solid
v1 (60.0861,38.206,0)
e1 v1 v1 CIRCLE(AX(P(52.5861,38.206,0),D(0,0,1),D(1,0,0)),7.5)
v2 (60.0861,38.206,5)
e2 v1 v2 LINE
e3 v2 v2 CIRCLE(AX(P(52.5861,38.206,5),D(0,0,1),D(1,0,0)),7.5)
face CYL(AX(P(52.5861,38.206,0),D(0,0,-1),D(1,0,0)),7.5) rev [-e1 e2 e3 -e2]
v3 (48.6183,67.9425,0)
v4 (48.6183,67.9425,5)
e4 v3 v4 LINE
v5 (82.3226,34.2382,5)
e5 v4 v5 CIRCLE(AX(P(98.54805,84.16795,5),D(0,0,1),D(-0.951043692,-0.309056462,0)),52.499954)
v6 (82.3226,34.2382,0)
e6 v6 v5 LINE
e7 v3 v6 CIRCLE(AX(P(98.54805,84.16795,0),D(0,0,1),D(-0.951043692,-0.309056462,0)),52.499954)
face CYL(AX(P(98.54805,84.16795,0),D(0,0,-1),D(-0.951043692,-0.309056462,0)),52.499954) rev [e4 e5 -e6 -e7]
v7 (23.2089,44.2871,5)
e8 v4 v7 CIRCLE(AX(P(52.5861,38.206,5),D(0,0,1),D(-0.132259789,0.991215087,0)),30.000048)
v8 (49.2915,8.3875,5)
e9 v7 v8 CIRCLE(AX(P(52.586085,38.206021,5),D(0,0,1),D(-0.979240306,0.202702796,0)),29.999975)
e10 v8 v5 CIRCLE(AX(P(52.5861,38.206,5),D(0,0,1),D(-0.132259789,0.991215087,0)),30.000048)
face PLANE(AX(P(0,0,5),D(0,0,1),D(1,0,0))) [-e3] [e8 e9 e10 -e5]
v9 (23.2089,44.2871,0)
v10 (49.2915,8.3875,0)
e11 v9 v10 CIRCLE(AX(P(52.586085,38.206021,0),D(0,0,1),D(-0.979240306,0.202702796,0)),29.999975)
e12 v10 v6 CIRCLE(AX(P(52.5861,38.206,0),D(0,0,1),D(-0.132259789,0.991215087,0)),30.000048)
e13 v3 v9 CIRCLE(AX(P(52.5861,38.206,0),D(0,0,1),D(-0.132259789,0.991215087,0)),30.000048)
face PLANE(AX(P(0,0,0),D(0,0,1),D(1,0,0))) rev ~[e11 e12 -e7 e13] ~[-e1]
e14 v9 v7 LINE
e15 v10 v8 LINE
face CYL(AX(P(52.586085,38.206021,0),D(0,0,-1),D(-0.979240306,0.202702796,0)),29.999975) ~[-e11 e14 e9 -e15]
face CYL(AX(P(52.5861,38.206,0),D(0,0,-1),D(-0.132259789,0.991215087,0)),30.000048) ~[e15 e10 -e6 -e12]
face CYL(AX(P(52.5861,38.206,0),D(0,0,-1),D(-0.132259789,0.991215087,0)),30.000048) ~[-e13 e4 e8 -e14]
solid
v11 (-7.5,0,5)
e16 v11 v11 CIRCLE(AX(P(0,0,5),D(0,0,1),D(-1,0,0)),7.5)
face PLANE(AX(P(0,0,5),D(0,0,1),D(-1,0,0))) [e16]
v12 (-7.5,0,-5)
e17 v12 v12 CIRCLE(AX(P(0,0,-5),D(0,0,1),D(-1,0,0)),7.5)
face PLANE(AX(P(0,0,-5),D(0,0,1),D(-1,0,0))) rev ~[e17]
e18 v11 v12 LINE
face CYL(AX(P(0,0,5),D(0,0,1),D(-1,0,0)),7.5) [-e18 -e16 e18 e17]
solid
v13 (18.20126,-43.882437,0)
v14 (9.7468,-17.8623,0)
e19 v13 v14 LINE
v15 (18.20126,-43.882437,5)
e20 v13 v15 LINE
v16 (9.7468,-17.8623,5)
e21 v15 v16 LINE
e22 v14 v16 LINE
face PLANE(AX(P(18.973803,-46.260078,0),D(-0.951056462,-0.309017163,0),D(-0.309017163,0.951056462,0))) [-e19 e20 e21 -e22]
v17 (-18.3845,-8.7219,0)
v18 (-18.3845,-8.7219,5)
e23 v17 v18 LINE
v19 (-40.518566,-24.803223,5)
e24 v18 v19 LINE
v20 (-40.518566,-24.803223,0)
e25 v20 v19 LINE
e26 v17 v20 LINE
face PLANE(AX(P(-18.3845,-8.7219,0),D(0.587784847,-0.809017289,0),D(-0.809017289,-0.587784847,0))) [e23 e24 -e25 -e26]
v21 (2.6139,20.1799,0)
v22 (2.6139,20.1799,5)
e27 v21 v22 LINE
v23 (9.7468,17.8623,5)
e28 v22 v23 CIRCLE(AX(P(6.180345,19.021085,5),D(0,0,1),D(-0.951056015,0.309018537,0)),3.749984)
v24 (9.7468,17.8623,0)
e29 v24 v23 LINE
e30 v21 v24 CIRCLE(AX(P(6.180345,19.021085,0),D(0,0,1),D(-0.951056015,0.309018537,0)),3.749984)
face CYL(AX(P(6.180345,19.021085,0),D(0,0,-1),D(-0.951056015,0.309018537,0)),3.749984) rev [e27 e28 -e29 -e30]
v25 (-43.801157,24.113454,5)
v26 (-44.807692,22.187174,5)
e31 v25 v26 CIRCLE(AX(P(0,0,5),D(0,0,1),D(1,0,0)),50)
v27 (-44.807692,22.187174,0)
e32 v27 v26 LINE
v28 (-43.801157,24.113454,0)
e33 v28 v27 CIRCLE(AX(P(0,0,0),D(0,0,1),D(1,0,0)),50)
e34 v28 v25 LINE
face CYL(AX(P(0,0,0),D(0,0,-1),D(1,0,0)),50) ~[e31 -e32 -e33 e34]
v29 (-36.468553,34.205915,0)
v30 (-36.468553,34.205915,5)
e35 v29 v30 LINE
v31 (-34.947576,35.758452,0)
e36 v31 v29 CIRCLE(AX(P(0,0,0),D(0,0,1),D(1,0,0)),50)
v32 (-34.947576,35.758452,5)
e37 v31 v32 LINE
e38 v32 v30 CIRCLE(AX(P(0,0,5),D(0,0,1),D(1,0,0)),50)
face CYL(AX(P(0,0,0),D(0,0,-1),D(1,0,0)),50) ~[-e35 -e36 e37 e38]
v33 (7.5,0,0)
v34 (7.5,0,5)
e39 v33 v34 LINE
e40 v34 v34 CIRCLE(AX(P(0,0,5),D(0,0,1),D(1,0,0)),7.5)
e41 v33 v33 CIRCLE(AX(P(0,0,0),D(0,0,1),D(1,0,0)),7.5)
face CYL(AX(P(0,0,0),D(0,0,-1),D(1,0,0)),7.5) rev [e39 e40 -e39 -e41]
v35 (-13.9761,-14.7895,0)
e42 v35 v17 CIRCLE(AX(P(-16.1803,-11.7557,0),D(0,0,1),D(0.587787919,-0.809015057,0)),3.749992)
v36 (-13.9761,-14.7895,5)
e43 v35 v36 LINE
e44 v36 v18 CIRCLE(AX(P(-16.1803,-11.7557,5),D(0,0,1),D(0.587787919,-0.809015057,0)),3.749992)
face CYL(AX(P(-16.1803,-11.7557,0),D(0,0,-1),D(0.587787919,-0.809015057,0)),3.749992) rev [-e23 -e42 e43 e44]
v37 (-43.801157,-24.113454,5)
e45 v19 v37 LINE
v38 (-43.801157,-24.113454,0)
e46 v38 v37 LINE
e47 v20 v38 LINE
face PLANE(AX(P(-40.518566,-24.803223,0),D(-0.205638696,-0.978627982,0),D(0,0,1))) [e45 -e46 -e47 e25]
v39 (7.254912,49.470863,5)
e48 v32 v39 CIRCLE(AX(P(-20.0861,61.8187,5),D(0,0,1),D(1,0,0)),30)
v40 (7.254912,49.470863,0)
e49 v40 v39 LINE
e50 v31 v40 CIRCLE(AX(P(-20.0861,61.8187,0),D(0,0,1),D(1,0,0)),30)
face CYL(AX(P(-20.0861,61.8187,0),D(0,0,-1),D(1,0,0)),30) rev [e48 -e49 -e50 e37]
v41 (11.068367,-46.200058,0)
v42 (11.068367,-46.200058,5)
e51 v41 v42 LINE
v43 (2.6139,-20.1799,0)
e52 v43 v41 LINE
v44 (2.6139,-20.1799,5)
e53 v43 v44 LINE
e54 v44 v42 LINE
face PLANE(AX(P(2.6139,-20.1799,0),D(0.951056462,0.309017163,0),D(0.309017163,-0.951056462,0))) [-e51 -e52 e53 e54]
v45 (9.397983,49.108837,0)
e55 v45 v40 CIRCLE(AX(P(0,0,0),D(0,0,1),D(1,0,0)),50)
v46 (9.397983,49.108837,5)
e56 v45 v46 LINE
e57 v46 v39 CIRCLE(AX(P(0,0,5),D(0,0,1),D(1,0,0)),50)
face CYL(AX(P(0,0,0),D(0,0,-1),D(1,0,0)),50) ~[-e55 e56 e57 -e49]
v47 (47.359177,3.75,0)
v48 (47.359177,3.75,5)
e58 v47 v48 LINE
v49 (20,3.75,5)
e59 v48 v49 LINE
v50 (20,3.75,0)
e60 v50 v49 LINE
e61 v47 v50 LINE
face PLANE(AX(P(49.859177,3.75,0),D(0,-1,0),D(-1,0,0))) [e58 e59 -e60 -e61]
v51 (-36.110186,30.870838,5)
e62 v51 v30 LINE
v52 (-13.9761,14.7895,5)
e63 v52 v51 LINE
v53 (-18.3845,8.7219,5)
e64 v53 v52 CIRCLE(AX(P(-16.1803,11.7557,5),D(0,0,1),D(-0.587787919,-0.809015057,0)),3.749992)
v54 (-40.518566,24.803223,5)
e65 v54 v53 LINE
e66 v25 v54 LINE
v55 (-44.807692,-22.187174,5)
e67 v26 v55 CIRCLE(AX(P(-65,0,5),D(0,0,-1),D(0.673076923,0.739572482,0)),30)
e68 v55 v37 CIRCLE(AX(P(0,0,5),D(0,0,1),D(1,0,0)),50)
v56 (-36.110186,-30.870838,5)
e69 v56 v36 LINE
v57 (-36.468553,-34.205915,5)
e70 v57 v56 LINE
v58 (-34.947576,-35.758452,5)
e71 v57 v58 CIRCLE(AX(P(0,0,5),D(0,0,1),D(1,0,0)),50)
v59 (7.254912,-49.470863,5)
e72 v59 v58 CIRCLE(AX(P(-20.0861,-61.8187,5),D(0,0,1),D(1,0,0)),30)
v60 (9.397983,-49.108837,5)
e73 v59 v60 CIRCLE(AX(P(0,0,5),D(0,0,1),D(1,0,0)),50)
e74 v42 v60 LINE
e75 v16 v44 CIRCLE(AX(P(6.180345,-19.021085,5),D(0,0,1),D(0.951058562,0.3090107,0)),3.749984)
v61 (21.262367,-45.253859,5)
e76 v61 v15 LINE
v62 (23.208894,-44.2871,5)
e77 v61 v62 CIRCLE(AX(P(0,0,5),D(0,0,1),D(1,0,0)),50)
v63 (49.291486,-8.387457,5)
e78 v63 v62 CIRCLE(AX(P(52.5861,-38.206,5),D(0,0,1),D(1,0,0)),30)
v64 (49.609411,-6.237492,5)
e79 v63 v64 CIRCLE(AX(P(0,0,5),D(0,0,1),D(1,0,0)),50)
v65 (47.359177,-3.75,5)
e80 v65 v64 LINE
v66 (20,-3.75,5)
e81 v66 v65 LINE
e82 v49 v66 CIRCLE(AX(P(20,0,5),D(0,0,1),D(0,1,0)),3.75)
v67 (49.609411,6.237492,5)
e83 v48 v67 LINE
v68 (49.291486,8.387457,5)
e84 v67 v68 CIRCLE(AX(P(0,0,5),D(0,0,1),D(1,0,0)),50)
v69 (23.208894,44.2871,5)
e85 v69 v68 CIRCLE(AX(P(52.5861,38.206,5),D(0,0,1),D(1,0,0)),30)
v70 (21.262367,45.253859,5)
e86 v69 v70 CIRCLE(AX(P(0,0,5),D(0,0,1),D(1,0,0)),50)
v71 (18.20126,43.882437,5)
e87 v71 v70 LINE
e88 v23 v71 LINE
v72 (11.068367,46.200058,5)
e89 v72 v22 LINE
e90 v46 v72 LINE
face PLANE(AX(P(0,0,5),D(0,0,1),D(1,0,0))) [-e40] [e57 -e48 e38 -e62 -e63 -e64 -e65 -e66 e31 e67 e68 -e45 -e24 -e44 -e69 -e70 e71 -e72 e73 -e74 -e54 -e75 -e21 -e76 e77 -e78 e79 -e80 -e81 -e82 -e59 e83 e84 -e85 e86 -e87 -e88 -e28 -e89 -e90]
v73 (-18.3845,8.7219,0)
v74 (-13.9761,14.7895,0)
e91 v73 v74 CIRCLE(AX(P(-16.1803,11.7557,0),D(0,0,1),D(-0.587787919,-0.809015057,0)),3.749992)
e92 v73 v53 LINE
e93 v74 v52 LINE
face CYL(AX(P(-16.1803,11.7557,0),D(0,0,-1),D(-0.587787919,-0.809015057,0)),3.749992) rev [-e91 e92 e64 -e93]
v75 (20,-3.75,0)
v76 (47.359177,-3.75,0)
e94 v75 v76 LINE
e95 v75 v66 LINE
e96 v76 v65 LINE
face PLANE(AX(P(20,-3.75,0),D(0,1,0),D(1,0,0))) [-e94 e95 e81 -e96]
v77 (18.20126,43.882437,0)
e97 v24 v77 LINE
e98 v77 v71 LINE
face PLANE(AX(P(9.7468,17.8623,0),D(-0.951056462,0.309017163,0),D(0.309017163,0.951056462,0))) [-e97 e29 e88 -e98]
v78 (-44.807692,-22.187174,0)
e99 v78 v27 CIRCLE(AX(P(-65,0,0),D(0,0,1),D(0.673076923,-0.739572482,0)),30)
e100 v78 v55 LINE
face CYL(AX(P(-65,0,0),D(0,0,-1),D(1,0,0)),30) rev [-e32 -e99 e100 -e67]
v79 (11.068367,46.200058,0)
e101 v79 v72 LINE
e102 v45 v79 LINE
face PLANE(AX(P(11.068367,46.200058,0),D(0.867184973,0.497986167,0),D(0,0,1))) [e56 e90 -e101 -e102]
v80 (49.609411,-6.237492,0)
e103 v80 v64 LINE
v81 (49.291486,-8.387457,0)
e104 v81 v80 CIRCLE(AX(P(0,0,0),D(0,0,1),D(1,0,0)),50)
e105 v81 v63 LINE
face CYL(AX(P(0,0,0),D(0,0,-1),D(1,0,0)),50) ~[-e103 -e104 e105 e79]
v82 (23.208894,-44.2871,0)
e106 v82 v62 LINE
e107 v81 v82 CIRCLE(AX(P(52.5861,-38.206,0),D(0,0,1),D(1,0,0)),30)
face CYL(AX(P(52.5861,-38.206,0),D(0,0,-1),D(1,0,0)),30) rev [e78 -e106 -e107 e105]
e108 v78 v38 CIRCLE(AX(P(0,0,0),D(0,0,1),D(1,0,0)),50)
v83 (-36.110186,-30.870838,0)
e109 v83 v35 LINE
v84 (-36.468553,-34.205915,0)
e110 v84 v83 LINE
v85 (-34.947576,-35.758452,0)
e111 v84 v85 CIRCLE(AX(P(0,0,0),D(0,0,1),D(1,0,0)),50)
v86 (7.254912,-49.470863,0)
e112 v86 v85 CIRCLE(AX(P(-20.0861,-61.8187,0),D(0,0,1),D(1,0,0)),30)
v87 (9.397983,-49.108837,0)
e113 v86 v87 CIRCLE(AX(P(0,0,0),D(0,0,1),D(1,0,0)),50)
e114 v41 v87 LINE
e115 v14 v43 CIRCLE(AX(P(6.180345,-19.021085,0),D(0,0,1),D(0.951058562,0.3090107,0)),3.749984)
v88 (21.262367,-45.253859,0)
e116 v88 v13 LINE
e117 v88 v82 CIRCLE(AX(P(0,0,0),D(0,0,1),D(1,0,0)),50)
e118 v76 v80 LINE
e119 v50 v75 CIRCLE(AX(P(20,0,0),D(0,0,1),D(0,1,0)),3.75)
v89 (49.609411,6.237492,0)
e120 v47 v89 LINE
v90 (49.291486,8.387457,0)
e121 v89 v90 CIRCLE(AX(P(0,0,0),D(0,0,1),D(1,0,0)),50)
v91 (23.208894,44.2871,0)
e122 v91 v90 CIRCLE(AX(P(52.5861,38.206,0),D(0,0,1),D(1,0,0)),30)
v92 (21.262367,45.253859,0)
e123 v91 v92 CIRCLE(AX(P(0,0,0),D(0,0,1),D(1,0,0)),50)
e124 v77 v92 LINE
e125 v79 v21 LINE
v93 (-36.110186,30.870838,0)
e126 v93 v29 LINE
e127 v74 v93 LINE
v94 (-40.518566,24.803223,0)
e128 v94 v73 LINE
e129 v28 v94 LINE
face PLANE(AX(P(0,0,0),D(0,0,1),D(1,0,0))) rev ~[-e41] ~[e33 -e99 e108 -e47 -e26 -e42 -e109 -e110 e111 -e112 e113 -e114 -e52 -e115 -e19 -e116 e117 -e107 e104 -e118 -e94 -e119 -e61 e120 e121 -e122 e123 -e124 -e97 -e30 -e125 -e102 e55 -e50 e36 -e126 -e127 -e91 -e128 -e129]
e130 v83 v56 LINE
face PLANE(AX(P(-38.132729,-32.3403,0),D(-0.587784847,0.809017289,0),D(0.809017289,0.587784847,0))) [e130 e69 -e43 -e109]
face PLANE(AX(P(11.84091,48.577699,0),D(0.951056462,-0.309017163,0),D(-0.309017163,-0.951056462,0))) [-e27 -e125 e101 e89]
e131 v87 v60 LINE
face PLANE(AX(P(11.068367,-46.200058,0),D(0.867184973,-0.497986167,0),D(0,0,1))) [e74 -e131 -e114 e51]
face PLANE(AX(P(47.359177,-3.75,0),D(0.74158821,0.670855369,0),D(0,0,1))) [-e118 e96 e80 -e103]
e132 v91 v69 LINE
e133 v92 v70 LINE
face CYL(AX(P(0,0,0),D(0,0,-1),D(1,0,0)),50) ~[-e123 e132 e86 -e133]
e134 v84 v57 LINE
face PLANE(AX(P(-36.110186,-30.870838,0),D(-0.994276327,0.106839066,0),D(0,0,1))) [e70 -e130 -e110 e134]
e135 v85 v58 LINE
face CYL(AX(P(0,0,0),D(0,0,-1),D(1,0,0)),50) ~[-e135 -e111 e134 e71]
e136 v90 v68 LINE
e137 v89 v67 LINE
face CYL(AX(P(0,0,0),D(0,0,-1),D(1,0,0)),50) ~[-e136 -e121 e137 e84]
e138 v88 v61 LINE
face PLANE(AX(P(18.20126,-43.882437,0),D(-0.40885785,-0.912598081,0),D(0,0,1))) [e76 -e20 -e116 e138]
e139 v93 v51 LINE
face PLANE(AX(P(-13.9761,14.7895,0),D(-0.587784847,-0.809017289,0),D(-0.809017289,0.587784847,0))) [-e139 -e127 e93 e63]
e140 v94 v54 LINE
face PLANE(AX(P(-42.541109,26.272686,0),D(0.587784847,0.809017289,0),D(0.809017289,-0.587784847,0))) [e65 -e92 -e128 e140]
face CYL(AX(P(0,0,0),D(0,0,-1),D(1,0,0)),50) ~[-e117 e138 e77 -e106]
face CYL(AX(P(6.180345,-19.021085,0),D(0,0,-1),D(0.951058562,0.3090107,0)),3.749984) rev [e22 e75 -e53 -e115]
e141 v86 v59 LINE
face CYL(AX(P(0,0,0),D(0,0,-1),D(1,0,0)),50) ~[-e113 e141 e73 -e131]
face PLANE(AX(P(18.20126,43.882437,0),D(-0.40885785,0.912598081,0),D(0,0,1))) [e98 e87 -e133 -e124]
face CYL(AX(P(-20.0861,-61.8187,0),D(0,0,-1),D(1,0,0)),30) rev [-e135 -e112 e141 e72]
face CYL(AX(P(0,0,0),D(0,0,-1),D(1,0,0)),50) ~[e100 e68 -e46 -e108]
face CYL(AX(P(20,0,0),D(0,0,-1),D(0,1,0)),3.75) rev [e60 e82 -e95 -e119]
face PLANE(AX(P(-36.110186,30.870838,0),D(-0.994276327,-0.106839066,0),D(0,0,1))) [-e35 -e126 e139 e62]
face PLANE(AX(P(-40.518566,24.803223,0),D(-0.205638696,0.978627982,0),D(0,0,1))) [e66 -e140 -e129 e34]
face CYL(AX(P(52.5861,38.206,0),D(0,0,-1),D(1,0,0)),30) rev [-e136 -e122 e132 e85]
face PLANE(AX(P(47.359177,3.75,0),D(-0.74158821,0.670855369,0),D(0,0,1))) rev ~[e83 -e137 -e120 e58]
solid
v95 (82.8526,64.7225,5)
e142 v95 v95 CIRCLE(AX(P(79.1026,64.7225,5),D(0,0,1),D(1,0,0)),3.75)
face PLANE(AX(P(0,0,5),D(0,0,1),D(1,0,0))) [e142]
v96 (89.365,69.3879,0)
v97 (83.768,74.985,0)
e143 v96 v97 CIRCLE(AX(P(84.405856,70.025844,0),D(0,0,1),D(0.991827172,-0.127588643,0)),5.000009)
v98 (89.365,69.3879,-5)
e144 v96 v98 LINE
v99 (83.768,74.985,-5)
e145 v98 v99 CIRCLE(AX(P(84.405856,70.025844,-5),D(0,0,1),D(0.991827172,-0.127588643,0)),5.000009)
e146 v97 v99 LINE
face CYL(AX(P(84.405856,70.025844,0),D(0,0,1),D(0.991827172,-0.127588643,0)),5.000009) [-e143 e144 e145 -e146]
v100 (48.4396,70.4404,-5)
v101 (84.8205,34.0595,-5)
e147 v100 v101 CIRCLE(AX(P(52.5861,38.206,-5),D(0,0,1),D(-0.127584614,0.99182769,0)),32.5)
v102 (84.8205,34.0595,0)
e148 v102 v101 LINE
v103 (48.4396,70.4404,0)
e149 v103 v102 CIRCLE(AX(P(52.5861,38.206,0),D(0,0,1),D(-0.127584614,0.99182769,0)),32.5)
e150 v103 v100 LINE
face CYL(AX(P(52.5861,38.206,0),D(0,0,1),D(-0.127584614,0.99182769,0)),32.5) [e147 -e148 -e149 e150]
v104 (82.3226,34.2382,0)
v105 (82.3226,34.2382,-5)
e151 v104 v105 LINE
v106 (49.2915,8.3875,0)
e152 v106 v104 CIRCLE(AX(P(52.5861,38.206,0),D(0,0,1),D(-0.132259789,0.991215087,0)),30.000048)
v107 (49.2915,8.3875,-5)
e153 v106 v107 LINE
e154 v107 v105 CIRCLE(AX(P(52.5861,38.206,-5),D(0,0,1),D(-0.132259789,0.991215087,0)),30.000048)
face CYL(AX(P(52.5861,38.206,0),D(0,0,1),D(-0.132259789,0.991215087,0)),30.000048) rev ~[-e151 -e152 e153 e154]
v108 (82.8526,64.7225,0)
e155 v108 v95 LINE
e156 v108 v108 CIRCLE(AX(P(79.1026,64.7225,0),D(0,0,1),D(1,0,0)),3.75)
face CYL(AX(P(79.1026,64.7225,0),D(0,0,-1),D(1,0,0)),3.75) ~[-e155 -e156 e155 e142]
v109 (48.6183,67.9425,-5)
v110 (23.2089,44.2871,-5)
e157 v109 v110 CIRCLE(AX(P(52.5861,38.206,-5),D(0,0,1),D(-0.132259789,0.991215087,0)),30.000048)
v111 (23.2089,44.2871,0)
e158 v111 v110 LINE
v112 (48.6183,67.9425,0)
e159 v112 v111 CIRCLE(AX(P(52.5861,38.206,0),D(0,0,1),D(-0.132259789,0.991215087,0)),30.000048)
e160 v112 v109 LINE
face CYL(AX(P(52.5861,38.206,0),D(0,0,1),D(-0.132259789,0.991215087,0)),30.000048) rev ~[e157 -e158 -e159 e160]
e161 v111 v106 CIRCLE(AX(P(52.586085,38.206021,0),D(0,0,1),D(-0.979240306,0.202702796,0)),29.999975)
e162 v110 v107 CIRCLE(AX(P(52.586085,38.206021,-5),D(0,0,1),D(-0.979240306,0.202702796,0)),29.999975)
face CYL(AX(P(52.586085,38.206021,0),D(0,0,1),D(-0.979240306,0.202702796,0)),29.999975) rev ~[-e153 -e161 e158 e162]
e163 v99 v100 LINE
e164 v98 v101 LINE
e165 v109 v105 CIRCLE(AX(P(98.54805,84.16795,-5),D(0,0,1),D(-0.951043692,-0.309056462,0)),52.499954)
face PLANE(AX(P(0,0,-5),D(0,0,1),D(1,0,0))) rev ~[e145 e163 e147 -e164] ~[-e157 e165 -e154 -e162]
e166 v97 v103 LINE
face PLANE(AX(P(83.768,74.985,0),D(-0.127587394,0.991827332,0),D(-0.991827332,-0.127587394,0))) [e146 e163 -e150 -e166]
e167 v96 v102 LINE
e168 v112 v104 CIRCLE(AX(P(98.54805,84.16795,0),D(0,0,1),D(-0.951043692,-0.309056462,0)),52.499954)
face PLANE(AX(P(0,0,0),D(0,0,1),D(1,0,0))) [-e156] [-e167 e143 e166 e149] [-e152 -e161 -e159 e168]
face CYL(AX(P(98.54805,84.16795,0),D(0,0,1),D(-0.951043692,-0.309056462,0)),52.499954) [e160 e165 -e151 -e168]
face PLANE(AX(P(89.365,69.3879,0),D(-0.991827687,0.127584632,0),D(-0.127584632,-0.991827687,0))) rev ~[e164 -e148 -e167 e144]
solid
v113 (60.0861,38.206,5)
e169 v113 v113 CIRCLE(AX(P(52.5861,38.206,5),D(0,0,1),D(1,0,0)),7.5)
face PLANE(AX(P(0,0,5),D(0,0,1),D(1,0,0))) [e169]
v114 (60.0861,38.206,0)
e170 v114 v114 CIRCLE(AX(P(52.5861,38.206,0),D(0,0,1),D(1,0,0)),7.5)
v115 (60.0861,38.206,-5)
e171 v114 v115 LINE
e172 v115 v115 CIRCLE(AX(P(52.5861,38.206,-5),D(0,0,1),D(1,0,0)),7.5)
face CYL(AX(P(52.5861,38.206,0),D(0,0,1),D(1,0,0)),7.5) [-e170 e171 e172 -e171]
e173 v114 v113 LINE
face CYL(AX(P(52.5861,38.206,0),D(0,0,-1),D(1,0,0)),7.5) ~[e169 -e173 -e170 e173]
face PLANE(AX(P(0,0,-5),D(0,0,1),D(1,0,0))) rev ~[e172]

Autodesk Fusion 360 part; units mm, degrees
sketch "Sketch1" plane through (0, 0, 0) normal (0, 0, 1) x (1, 0, 0) in component "Follower"
  circle A0 centre (0, 0) radius 7.5
  circle A1 centre (0, 0) radius 50
  line L0 (20, -3.75) -> (60, -3.75)
  arc A2 (60, -3.75) -> (60, 3.75) centre (60, 0) ccw
  line L1 (60, 3.75) -> (20, 3.75)
  arc A3 (20, 3.75) -> (20, -3.75) centre (20, 0) ccw
  line L2 (20, 0) -> (60, 0) construction
  line L3 (14.9746, 58.2222) -> (2.6139, 20.1799)
  arc A4 (2.6139, 20.1799) -> (9.7468, 17.8623) centre (6.1803, 19.0211) ccw
  line L4 (9.7468, 17.8623) -> (22.1075, 55.9046)
  arc A5 (22.1075, 55.9046) -> (14.9746, 58.2222) centre (18.541, 57.0634) ccw
  line L5 (-50.7452, 32.2333) -> (-18.3845, 8.7219)
  arc A6 (-18.3845, 8.7219) -> (-13.9761, 14.7895) centre (-16.1803, 11.7557) ccw
  line L6 (-13.9761, 14.7895) -> (-46.3368, 38.3009)
  arc A7 (-46.3368, 38.3009) -> (-50.7452, 32.2333) centre (-48.541, 35.2671) ccw
  line L7 (-46.3368, -38.3009) -> (-13.9761, -14.7895)
  arc A8 (-13.9761, -14.7895) -> (-18.3845, -8.7219) centre (-16.1803, -11.7557) ccw
  line L8 (-18.3845, -8.7219) -> (-50.7452, -32.2333)
  arc A9 (-50.7452, -32.2333) -> (-46.3368, -38.3009) centre (-48.541, -35.2671) ccw
  line L9 (22.1075, -55.9046) -> (9.7468, -17.8623)
  arc A10 (9.7468, -17.8623) -> (2.6139, -20.1799) centre (6.1803, -19.0211) ccw
  line L10 (2.6139, -20.1799) -> (14.9746, -58.2222)
  arc A11 (14.9746, -58.2222) -> (22.1075, -55.9046) centre (18.541, -57.0634) ccw
  circle A12 centre (52.5861, 38.206) radius 30
  line L11 (52.5861, 38.206) -> (20, 0) construction
  line L12 (52.5861, 38.206) -> (6.1803, 19.0211) construction
  circle A13 centre (-20.0861, 61.8187) radius 30
  circle A14 centre (-65, 0) radius 30
  circle A15 centre (-20.0861, -61.8187) radius 30
  circle A16 centre (52.5861, -38.206) radius 30
  dimension "d12" = 15
  dimension "d13" = 100
  dimension "d14" = 7.5
  dimension "d15" = 20
  dimension "d17" = 360
  dimension "d18" = 60
  dimension "d19" = 65
  dimension "d21" = 360
extrude "Extrude1" add sketch "Sketch1" along normal blind 5 contours A1 L0 L1 A3 L3 A4 L4 L5 A6 L6 L7 A8 L8 L9 A10 L10 A12 A13 A14 A15 A16 makes body 1 in component "Follower"
chamfer "Chamfer1" distance 2.5 angle 45 10 edges at (11.8409, -48.5777, 2.5) (18.9738, -46.2601, 2.5) (-38.1327, -32.3403, 2.5) (-42.5411, -26.2727, 2.5) (-42.5411, 26.2727, 2.5) (-38.1327, 32.3403, 2.5) (11.8409, 48.5777, 2.5) (18.9738, 46.2601, 2.5) (49.8592, -3.75, 2.5) (49.8592, 3.75, 2.5) on bodies 1 in component "Follower"
sketch "Sketch1 (2)" plane through (0, 0, 5) normal (0, 0, 1) x (-1, 0, 0) in component "FollowJoint"
  line L0 (-47.3592, -3.75) -> (-49.6094, -6.2375)
  arc A0 (-49.6094, -6.2375) -> (-49.2915, -8.3875) centre (0, 0) ccw
  arc A1 (-23.2089, -44.2871) -> (-49.2915, -8.3875) centre (-52.5861, -38.206) ccw
  arc A2 (-23.2089, -44.2871) -> (-21.2624, -45.2539) centre (0, 0) ccw
  line L1 (-21.2624, -45.2539) -> (-18.2013, -43.8824)
  line L2 (-18.2013, -43.8824) -> (-9.7468, -17.8623)
  arc A3 (-2.6139, -20.1799) -> (-9.7468, -17.8623) centre (-6.1803, -19.0211) ccw
  line L3 (-2.6139, -20.1799) -> (-11.0683, -46.2001)
  line L4 (-11.0683, -46.2001) -> (-9.3979, -49.1088)
  arc A4 (-9.3979, -49.1088) -> (-7.2549, -49.4709) centre (0, 0) ccw
  arc A5 (34.9476, -35.7584) -> (-7.2549, -49.4709) centre (20.0861, -61.8187) ccw
  arc A6 (34.9476, -35.7584) -> (36.4686, -34.2059) centre (0, 0) ccw
  line L5 (36.4686, -34.2059) -> (36.1102, -30.8708)
  line L6 (36.1102, -30.8708) -> (13.9761, -14.7895)
  arc A7 (18.3845, -8.7219) -> (13.9761, -14.7895) centre (16.1803, -11.7557) ccw
  line L7 (18.3845, -8.7219) -> (40.5186, -24.8032)
  line L8 (40.5186, -24.8032) -> (43.8012, -24.1134)
  arc A8 (43.8012, -24.1134) -> (44.8077, -22.1872) centre (0, 0) ccw
  arc A9 (44.8077, 22.1872) -> (44.8077, -22.1872) centre (65, 0) ccw
  arc A10 (44.8077, 22.1872) -> (43.8012, 24.1134) centre (0, 0) ccw
  line L9 (43.8012, 24.1134) -> (40.5186, 24.8032)
  line L10 (40.5186, 24.8032) -> (18.3845, 8.7219)
  arc A11 (13.9761, 14.7895) -> (18.3845, 8.7219) centre (16.1803, 11.7557) ccw
  line L11 (13.9761, 14.7895) -> (36.1102, 30.8708)
  line L12 (36.1102, 30.8708) -> (36.4686, 34.2059)
  arc A12 (36.4686, 34.2059) -> (34.9476, 35.7584) centre (0, 0) ccw
  arc A13 (-7.2549, 49.4709) -> (34.9476, 35.7584) centre (20.0861, 61.8187) ccw
  arc A14 (-7.2549, 49.4709) -> (-9.3979, 49.1088) centre (0, 0) ccw
  line L13 (-9.3979, 49.1088) -> (-11.0683, 46.2001)
  line L14 (-11.0683, 46.2001) -> (-2.6139, 20.1799)
  arc A15 (-9.7468, 17.8623) -> (-2.6139, 20.1799) centre (-6.1803, 19.0211) ccw
  line L15 (-9.7468, 17.8623) -> (-18.2013, 43.8824)
  line L16 (-18.2013, 43.8824) -> (-21.2624, 45.2539)
  arc A16 (-21.2624, 45.2539) -> (-23.2089, 44.2871) centre (0, 0) ccw
  arc A17 (-49.2915, 8.3875) -> (-23.2089, 44.2871) centre (-52.5861, 38.206) ccw
  arc A18 (-49.2915, 8.3875) -> (-49.6094, 6.2375) centre (0, 0) ccw
  line L17 (-49.6094, 6.2375) -> (-47.3592, 3.75)
  line L18 (-47.3592, 3.75) -> (-20, 3.75)
  arc A19 (-20, -3.75) -> (-20, 3.75) centre (-20, 0) ccw
  line L19 (-20, -3.75) -> (-47.3592, -3.75)
  circle A20 centre (0, 0) radius 7.5
  circle A21 centre (0, 0) radius 7.5
extrude "Extrude1'" add sketch "Sketch1 (2)" against normal blind 10 separate body contours A20 A21 makes body 2 in component "FollowJoint"
sketch "Sketch1 (3)" plane through (0, 0, 0) normal (0, 0, 1) x (1, 0, 0)
sketch "Sketch1 (4)" plane through (0, 0, 0) normal (0, 0, 1) x (1, 0, 0) in component "Cam"
  circle A0 centre (52.5861, 38.206) radius 7.5
  arc A1 (23.2089, 44.2871) -> (49.2915, 8.3875) centre (52.5861, 38.206) ccw
  line L0 (52.5861, 38.206) -> (158.6521, 144.2721) construction
  line L1 (52.5861, 38.206) -> (202.5861, 38.206) construction
  circle A2 centre (79.1026, 64.7225) radius 3.75
  arc A3 (89.365, 69.3879) -> (83.768, 74.985) centre (84.4059, 70.0258) ccw
  line L2 (83.768, 74.985) -> (48.4396, 70.4404)
  line L3 (89.365, 69.3879) -> (84.8205, 34.0595)
  arc A4 (48.6183, 67.9425) -> (82.3226, 34.2382) centre (98.548, 84.168) ccw
  arc A5 (48.6183, 67.9425) -> (82.3226, 34.2382) centre (52.5861, 38.206) ccw
  arc A6 (48.4396, 70.4404) -> (85.0861, 38.206) centre (52.5861, 38.206) ccw
  dimension "d27" = 65
  dimension "d28" = 60
  dimension "d29" = 15
  dimension "d30" = 150
  dimension "d31" = 45
  dimension "d32" = 7.5
  dimension "d33" = 10
  dimension "d34" = 37.5
  dimension "d35" = 45
  dimension "d36" = 105
  dimension "d37" = 65
extrude "Extrude1''" add sketch "Sketch1 (4)" along normal blind 5 separate body contours A1 A4 A5 makes body 3 in component "Cam"
extrude "Extrude2" add sketch "Sketch1 (4)" against normal blind 5 contours A3 L2 L3 A6 bodies 3 in component "Cam"
extrude "Extrude3" add sketch "Sketch1 (4)" along normal mid plane 10 contours A2 bodies 3 in component "Cam"
extrude "Extrude1'''" add sketch "Sketch1 (4)" along normal mid plane 10 separate body contours A0 makes body 4 in component "CamJoint"
component "Follower" placed x (1, 0, 0) y (0, 1, 0) z (0, 0, 1) at (0, 0, 0)
component "FollowJoint" placed x (1, 0, 0) y (0, 1, 0) z (0, 0, 1) at (0, 0, 0)
component "Cam" placed x (1, 0, 0) y (0, 1, 0) z (0, 0, 1) at (0, 0, 0)
component "CamJoint" placed x (1, 0, 0) y (0, 1, 0) z (0, 0, 1) at (0, 0, 0)
